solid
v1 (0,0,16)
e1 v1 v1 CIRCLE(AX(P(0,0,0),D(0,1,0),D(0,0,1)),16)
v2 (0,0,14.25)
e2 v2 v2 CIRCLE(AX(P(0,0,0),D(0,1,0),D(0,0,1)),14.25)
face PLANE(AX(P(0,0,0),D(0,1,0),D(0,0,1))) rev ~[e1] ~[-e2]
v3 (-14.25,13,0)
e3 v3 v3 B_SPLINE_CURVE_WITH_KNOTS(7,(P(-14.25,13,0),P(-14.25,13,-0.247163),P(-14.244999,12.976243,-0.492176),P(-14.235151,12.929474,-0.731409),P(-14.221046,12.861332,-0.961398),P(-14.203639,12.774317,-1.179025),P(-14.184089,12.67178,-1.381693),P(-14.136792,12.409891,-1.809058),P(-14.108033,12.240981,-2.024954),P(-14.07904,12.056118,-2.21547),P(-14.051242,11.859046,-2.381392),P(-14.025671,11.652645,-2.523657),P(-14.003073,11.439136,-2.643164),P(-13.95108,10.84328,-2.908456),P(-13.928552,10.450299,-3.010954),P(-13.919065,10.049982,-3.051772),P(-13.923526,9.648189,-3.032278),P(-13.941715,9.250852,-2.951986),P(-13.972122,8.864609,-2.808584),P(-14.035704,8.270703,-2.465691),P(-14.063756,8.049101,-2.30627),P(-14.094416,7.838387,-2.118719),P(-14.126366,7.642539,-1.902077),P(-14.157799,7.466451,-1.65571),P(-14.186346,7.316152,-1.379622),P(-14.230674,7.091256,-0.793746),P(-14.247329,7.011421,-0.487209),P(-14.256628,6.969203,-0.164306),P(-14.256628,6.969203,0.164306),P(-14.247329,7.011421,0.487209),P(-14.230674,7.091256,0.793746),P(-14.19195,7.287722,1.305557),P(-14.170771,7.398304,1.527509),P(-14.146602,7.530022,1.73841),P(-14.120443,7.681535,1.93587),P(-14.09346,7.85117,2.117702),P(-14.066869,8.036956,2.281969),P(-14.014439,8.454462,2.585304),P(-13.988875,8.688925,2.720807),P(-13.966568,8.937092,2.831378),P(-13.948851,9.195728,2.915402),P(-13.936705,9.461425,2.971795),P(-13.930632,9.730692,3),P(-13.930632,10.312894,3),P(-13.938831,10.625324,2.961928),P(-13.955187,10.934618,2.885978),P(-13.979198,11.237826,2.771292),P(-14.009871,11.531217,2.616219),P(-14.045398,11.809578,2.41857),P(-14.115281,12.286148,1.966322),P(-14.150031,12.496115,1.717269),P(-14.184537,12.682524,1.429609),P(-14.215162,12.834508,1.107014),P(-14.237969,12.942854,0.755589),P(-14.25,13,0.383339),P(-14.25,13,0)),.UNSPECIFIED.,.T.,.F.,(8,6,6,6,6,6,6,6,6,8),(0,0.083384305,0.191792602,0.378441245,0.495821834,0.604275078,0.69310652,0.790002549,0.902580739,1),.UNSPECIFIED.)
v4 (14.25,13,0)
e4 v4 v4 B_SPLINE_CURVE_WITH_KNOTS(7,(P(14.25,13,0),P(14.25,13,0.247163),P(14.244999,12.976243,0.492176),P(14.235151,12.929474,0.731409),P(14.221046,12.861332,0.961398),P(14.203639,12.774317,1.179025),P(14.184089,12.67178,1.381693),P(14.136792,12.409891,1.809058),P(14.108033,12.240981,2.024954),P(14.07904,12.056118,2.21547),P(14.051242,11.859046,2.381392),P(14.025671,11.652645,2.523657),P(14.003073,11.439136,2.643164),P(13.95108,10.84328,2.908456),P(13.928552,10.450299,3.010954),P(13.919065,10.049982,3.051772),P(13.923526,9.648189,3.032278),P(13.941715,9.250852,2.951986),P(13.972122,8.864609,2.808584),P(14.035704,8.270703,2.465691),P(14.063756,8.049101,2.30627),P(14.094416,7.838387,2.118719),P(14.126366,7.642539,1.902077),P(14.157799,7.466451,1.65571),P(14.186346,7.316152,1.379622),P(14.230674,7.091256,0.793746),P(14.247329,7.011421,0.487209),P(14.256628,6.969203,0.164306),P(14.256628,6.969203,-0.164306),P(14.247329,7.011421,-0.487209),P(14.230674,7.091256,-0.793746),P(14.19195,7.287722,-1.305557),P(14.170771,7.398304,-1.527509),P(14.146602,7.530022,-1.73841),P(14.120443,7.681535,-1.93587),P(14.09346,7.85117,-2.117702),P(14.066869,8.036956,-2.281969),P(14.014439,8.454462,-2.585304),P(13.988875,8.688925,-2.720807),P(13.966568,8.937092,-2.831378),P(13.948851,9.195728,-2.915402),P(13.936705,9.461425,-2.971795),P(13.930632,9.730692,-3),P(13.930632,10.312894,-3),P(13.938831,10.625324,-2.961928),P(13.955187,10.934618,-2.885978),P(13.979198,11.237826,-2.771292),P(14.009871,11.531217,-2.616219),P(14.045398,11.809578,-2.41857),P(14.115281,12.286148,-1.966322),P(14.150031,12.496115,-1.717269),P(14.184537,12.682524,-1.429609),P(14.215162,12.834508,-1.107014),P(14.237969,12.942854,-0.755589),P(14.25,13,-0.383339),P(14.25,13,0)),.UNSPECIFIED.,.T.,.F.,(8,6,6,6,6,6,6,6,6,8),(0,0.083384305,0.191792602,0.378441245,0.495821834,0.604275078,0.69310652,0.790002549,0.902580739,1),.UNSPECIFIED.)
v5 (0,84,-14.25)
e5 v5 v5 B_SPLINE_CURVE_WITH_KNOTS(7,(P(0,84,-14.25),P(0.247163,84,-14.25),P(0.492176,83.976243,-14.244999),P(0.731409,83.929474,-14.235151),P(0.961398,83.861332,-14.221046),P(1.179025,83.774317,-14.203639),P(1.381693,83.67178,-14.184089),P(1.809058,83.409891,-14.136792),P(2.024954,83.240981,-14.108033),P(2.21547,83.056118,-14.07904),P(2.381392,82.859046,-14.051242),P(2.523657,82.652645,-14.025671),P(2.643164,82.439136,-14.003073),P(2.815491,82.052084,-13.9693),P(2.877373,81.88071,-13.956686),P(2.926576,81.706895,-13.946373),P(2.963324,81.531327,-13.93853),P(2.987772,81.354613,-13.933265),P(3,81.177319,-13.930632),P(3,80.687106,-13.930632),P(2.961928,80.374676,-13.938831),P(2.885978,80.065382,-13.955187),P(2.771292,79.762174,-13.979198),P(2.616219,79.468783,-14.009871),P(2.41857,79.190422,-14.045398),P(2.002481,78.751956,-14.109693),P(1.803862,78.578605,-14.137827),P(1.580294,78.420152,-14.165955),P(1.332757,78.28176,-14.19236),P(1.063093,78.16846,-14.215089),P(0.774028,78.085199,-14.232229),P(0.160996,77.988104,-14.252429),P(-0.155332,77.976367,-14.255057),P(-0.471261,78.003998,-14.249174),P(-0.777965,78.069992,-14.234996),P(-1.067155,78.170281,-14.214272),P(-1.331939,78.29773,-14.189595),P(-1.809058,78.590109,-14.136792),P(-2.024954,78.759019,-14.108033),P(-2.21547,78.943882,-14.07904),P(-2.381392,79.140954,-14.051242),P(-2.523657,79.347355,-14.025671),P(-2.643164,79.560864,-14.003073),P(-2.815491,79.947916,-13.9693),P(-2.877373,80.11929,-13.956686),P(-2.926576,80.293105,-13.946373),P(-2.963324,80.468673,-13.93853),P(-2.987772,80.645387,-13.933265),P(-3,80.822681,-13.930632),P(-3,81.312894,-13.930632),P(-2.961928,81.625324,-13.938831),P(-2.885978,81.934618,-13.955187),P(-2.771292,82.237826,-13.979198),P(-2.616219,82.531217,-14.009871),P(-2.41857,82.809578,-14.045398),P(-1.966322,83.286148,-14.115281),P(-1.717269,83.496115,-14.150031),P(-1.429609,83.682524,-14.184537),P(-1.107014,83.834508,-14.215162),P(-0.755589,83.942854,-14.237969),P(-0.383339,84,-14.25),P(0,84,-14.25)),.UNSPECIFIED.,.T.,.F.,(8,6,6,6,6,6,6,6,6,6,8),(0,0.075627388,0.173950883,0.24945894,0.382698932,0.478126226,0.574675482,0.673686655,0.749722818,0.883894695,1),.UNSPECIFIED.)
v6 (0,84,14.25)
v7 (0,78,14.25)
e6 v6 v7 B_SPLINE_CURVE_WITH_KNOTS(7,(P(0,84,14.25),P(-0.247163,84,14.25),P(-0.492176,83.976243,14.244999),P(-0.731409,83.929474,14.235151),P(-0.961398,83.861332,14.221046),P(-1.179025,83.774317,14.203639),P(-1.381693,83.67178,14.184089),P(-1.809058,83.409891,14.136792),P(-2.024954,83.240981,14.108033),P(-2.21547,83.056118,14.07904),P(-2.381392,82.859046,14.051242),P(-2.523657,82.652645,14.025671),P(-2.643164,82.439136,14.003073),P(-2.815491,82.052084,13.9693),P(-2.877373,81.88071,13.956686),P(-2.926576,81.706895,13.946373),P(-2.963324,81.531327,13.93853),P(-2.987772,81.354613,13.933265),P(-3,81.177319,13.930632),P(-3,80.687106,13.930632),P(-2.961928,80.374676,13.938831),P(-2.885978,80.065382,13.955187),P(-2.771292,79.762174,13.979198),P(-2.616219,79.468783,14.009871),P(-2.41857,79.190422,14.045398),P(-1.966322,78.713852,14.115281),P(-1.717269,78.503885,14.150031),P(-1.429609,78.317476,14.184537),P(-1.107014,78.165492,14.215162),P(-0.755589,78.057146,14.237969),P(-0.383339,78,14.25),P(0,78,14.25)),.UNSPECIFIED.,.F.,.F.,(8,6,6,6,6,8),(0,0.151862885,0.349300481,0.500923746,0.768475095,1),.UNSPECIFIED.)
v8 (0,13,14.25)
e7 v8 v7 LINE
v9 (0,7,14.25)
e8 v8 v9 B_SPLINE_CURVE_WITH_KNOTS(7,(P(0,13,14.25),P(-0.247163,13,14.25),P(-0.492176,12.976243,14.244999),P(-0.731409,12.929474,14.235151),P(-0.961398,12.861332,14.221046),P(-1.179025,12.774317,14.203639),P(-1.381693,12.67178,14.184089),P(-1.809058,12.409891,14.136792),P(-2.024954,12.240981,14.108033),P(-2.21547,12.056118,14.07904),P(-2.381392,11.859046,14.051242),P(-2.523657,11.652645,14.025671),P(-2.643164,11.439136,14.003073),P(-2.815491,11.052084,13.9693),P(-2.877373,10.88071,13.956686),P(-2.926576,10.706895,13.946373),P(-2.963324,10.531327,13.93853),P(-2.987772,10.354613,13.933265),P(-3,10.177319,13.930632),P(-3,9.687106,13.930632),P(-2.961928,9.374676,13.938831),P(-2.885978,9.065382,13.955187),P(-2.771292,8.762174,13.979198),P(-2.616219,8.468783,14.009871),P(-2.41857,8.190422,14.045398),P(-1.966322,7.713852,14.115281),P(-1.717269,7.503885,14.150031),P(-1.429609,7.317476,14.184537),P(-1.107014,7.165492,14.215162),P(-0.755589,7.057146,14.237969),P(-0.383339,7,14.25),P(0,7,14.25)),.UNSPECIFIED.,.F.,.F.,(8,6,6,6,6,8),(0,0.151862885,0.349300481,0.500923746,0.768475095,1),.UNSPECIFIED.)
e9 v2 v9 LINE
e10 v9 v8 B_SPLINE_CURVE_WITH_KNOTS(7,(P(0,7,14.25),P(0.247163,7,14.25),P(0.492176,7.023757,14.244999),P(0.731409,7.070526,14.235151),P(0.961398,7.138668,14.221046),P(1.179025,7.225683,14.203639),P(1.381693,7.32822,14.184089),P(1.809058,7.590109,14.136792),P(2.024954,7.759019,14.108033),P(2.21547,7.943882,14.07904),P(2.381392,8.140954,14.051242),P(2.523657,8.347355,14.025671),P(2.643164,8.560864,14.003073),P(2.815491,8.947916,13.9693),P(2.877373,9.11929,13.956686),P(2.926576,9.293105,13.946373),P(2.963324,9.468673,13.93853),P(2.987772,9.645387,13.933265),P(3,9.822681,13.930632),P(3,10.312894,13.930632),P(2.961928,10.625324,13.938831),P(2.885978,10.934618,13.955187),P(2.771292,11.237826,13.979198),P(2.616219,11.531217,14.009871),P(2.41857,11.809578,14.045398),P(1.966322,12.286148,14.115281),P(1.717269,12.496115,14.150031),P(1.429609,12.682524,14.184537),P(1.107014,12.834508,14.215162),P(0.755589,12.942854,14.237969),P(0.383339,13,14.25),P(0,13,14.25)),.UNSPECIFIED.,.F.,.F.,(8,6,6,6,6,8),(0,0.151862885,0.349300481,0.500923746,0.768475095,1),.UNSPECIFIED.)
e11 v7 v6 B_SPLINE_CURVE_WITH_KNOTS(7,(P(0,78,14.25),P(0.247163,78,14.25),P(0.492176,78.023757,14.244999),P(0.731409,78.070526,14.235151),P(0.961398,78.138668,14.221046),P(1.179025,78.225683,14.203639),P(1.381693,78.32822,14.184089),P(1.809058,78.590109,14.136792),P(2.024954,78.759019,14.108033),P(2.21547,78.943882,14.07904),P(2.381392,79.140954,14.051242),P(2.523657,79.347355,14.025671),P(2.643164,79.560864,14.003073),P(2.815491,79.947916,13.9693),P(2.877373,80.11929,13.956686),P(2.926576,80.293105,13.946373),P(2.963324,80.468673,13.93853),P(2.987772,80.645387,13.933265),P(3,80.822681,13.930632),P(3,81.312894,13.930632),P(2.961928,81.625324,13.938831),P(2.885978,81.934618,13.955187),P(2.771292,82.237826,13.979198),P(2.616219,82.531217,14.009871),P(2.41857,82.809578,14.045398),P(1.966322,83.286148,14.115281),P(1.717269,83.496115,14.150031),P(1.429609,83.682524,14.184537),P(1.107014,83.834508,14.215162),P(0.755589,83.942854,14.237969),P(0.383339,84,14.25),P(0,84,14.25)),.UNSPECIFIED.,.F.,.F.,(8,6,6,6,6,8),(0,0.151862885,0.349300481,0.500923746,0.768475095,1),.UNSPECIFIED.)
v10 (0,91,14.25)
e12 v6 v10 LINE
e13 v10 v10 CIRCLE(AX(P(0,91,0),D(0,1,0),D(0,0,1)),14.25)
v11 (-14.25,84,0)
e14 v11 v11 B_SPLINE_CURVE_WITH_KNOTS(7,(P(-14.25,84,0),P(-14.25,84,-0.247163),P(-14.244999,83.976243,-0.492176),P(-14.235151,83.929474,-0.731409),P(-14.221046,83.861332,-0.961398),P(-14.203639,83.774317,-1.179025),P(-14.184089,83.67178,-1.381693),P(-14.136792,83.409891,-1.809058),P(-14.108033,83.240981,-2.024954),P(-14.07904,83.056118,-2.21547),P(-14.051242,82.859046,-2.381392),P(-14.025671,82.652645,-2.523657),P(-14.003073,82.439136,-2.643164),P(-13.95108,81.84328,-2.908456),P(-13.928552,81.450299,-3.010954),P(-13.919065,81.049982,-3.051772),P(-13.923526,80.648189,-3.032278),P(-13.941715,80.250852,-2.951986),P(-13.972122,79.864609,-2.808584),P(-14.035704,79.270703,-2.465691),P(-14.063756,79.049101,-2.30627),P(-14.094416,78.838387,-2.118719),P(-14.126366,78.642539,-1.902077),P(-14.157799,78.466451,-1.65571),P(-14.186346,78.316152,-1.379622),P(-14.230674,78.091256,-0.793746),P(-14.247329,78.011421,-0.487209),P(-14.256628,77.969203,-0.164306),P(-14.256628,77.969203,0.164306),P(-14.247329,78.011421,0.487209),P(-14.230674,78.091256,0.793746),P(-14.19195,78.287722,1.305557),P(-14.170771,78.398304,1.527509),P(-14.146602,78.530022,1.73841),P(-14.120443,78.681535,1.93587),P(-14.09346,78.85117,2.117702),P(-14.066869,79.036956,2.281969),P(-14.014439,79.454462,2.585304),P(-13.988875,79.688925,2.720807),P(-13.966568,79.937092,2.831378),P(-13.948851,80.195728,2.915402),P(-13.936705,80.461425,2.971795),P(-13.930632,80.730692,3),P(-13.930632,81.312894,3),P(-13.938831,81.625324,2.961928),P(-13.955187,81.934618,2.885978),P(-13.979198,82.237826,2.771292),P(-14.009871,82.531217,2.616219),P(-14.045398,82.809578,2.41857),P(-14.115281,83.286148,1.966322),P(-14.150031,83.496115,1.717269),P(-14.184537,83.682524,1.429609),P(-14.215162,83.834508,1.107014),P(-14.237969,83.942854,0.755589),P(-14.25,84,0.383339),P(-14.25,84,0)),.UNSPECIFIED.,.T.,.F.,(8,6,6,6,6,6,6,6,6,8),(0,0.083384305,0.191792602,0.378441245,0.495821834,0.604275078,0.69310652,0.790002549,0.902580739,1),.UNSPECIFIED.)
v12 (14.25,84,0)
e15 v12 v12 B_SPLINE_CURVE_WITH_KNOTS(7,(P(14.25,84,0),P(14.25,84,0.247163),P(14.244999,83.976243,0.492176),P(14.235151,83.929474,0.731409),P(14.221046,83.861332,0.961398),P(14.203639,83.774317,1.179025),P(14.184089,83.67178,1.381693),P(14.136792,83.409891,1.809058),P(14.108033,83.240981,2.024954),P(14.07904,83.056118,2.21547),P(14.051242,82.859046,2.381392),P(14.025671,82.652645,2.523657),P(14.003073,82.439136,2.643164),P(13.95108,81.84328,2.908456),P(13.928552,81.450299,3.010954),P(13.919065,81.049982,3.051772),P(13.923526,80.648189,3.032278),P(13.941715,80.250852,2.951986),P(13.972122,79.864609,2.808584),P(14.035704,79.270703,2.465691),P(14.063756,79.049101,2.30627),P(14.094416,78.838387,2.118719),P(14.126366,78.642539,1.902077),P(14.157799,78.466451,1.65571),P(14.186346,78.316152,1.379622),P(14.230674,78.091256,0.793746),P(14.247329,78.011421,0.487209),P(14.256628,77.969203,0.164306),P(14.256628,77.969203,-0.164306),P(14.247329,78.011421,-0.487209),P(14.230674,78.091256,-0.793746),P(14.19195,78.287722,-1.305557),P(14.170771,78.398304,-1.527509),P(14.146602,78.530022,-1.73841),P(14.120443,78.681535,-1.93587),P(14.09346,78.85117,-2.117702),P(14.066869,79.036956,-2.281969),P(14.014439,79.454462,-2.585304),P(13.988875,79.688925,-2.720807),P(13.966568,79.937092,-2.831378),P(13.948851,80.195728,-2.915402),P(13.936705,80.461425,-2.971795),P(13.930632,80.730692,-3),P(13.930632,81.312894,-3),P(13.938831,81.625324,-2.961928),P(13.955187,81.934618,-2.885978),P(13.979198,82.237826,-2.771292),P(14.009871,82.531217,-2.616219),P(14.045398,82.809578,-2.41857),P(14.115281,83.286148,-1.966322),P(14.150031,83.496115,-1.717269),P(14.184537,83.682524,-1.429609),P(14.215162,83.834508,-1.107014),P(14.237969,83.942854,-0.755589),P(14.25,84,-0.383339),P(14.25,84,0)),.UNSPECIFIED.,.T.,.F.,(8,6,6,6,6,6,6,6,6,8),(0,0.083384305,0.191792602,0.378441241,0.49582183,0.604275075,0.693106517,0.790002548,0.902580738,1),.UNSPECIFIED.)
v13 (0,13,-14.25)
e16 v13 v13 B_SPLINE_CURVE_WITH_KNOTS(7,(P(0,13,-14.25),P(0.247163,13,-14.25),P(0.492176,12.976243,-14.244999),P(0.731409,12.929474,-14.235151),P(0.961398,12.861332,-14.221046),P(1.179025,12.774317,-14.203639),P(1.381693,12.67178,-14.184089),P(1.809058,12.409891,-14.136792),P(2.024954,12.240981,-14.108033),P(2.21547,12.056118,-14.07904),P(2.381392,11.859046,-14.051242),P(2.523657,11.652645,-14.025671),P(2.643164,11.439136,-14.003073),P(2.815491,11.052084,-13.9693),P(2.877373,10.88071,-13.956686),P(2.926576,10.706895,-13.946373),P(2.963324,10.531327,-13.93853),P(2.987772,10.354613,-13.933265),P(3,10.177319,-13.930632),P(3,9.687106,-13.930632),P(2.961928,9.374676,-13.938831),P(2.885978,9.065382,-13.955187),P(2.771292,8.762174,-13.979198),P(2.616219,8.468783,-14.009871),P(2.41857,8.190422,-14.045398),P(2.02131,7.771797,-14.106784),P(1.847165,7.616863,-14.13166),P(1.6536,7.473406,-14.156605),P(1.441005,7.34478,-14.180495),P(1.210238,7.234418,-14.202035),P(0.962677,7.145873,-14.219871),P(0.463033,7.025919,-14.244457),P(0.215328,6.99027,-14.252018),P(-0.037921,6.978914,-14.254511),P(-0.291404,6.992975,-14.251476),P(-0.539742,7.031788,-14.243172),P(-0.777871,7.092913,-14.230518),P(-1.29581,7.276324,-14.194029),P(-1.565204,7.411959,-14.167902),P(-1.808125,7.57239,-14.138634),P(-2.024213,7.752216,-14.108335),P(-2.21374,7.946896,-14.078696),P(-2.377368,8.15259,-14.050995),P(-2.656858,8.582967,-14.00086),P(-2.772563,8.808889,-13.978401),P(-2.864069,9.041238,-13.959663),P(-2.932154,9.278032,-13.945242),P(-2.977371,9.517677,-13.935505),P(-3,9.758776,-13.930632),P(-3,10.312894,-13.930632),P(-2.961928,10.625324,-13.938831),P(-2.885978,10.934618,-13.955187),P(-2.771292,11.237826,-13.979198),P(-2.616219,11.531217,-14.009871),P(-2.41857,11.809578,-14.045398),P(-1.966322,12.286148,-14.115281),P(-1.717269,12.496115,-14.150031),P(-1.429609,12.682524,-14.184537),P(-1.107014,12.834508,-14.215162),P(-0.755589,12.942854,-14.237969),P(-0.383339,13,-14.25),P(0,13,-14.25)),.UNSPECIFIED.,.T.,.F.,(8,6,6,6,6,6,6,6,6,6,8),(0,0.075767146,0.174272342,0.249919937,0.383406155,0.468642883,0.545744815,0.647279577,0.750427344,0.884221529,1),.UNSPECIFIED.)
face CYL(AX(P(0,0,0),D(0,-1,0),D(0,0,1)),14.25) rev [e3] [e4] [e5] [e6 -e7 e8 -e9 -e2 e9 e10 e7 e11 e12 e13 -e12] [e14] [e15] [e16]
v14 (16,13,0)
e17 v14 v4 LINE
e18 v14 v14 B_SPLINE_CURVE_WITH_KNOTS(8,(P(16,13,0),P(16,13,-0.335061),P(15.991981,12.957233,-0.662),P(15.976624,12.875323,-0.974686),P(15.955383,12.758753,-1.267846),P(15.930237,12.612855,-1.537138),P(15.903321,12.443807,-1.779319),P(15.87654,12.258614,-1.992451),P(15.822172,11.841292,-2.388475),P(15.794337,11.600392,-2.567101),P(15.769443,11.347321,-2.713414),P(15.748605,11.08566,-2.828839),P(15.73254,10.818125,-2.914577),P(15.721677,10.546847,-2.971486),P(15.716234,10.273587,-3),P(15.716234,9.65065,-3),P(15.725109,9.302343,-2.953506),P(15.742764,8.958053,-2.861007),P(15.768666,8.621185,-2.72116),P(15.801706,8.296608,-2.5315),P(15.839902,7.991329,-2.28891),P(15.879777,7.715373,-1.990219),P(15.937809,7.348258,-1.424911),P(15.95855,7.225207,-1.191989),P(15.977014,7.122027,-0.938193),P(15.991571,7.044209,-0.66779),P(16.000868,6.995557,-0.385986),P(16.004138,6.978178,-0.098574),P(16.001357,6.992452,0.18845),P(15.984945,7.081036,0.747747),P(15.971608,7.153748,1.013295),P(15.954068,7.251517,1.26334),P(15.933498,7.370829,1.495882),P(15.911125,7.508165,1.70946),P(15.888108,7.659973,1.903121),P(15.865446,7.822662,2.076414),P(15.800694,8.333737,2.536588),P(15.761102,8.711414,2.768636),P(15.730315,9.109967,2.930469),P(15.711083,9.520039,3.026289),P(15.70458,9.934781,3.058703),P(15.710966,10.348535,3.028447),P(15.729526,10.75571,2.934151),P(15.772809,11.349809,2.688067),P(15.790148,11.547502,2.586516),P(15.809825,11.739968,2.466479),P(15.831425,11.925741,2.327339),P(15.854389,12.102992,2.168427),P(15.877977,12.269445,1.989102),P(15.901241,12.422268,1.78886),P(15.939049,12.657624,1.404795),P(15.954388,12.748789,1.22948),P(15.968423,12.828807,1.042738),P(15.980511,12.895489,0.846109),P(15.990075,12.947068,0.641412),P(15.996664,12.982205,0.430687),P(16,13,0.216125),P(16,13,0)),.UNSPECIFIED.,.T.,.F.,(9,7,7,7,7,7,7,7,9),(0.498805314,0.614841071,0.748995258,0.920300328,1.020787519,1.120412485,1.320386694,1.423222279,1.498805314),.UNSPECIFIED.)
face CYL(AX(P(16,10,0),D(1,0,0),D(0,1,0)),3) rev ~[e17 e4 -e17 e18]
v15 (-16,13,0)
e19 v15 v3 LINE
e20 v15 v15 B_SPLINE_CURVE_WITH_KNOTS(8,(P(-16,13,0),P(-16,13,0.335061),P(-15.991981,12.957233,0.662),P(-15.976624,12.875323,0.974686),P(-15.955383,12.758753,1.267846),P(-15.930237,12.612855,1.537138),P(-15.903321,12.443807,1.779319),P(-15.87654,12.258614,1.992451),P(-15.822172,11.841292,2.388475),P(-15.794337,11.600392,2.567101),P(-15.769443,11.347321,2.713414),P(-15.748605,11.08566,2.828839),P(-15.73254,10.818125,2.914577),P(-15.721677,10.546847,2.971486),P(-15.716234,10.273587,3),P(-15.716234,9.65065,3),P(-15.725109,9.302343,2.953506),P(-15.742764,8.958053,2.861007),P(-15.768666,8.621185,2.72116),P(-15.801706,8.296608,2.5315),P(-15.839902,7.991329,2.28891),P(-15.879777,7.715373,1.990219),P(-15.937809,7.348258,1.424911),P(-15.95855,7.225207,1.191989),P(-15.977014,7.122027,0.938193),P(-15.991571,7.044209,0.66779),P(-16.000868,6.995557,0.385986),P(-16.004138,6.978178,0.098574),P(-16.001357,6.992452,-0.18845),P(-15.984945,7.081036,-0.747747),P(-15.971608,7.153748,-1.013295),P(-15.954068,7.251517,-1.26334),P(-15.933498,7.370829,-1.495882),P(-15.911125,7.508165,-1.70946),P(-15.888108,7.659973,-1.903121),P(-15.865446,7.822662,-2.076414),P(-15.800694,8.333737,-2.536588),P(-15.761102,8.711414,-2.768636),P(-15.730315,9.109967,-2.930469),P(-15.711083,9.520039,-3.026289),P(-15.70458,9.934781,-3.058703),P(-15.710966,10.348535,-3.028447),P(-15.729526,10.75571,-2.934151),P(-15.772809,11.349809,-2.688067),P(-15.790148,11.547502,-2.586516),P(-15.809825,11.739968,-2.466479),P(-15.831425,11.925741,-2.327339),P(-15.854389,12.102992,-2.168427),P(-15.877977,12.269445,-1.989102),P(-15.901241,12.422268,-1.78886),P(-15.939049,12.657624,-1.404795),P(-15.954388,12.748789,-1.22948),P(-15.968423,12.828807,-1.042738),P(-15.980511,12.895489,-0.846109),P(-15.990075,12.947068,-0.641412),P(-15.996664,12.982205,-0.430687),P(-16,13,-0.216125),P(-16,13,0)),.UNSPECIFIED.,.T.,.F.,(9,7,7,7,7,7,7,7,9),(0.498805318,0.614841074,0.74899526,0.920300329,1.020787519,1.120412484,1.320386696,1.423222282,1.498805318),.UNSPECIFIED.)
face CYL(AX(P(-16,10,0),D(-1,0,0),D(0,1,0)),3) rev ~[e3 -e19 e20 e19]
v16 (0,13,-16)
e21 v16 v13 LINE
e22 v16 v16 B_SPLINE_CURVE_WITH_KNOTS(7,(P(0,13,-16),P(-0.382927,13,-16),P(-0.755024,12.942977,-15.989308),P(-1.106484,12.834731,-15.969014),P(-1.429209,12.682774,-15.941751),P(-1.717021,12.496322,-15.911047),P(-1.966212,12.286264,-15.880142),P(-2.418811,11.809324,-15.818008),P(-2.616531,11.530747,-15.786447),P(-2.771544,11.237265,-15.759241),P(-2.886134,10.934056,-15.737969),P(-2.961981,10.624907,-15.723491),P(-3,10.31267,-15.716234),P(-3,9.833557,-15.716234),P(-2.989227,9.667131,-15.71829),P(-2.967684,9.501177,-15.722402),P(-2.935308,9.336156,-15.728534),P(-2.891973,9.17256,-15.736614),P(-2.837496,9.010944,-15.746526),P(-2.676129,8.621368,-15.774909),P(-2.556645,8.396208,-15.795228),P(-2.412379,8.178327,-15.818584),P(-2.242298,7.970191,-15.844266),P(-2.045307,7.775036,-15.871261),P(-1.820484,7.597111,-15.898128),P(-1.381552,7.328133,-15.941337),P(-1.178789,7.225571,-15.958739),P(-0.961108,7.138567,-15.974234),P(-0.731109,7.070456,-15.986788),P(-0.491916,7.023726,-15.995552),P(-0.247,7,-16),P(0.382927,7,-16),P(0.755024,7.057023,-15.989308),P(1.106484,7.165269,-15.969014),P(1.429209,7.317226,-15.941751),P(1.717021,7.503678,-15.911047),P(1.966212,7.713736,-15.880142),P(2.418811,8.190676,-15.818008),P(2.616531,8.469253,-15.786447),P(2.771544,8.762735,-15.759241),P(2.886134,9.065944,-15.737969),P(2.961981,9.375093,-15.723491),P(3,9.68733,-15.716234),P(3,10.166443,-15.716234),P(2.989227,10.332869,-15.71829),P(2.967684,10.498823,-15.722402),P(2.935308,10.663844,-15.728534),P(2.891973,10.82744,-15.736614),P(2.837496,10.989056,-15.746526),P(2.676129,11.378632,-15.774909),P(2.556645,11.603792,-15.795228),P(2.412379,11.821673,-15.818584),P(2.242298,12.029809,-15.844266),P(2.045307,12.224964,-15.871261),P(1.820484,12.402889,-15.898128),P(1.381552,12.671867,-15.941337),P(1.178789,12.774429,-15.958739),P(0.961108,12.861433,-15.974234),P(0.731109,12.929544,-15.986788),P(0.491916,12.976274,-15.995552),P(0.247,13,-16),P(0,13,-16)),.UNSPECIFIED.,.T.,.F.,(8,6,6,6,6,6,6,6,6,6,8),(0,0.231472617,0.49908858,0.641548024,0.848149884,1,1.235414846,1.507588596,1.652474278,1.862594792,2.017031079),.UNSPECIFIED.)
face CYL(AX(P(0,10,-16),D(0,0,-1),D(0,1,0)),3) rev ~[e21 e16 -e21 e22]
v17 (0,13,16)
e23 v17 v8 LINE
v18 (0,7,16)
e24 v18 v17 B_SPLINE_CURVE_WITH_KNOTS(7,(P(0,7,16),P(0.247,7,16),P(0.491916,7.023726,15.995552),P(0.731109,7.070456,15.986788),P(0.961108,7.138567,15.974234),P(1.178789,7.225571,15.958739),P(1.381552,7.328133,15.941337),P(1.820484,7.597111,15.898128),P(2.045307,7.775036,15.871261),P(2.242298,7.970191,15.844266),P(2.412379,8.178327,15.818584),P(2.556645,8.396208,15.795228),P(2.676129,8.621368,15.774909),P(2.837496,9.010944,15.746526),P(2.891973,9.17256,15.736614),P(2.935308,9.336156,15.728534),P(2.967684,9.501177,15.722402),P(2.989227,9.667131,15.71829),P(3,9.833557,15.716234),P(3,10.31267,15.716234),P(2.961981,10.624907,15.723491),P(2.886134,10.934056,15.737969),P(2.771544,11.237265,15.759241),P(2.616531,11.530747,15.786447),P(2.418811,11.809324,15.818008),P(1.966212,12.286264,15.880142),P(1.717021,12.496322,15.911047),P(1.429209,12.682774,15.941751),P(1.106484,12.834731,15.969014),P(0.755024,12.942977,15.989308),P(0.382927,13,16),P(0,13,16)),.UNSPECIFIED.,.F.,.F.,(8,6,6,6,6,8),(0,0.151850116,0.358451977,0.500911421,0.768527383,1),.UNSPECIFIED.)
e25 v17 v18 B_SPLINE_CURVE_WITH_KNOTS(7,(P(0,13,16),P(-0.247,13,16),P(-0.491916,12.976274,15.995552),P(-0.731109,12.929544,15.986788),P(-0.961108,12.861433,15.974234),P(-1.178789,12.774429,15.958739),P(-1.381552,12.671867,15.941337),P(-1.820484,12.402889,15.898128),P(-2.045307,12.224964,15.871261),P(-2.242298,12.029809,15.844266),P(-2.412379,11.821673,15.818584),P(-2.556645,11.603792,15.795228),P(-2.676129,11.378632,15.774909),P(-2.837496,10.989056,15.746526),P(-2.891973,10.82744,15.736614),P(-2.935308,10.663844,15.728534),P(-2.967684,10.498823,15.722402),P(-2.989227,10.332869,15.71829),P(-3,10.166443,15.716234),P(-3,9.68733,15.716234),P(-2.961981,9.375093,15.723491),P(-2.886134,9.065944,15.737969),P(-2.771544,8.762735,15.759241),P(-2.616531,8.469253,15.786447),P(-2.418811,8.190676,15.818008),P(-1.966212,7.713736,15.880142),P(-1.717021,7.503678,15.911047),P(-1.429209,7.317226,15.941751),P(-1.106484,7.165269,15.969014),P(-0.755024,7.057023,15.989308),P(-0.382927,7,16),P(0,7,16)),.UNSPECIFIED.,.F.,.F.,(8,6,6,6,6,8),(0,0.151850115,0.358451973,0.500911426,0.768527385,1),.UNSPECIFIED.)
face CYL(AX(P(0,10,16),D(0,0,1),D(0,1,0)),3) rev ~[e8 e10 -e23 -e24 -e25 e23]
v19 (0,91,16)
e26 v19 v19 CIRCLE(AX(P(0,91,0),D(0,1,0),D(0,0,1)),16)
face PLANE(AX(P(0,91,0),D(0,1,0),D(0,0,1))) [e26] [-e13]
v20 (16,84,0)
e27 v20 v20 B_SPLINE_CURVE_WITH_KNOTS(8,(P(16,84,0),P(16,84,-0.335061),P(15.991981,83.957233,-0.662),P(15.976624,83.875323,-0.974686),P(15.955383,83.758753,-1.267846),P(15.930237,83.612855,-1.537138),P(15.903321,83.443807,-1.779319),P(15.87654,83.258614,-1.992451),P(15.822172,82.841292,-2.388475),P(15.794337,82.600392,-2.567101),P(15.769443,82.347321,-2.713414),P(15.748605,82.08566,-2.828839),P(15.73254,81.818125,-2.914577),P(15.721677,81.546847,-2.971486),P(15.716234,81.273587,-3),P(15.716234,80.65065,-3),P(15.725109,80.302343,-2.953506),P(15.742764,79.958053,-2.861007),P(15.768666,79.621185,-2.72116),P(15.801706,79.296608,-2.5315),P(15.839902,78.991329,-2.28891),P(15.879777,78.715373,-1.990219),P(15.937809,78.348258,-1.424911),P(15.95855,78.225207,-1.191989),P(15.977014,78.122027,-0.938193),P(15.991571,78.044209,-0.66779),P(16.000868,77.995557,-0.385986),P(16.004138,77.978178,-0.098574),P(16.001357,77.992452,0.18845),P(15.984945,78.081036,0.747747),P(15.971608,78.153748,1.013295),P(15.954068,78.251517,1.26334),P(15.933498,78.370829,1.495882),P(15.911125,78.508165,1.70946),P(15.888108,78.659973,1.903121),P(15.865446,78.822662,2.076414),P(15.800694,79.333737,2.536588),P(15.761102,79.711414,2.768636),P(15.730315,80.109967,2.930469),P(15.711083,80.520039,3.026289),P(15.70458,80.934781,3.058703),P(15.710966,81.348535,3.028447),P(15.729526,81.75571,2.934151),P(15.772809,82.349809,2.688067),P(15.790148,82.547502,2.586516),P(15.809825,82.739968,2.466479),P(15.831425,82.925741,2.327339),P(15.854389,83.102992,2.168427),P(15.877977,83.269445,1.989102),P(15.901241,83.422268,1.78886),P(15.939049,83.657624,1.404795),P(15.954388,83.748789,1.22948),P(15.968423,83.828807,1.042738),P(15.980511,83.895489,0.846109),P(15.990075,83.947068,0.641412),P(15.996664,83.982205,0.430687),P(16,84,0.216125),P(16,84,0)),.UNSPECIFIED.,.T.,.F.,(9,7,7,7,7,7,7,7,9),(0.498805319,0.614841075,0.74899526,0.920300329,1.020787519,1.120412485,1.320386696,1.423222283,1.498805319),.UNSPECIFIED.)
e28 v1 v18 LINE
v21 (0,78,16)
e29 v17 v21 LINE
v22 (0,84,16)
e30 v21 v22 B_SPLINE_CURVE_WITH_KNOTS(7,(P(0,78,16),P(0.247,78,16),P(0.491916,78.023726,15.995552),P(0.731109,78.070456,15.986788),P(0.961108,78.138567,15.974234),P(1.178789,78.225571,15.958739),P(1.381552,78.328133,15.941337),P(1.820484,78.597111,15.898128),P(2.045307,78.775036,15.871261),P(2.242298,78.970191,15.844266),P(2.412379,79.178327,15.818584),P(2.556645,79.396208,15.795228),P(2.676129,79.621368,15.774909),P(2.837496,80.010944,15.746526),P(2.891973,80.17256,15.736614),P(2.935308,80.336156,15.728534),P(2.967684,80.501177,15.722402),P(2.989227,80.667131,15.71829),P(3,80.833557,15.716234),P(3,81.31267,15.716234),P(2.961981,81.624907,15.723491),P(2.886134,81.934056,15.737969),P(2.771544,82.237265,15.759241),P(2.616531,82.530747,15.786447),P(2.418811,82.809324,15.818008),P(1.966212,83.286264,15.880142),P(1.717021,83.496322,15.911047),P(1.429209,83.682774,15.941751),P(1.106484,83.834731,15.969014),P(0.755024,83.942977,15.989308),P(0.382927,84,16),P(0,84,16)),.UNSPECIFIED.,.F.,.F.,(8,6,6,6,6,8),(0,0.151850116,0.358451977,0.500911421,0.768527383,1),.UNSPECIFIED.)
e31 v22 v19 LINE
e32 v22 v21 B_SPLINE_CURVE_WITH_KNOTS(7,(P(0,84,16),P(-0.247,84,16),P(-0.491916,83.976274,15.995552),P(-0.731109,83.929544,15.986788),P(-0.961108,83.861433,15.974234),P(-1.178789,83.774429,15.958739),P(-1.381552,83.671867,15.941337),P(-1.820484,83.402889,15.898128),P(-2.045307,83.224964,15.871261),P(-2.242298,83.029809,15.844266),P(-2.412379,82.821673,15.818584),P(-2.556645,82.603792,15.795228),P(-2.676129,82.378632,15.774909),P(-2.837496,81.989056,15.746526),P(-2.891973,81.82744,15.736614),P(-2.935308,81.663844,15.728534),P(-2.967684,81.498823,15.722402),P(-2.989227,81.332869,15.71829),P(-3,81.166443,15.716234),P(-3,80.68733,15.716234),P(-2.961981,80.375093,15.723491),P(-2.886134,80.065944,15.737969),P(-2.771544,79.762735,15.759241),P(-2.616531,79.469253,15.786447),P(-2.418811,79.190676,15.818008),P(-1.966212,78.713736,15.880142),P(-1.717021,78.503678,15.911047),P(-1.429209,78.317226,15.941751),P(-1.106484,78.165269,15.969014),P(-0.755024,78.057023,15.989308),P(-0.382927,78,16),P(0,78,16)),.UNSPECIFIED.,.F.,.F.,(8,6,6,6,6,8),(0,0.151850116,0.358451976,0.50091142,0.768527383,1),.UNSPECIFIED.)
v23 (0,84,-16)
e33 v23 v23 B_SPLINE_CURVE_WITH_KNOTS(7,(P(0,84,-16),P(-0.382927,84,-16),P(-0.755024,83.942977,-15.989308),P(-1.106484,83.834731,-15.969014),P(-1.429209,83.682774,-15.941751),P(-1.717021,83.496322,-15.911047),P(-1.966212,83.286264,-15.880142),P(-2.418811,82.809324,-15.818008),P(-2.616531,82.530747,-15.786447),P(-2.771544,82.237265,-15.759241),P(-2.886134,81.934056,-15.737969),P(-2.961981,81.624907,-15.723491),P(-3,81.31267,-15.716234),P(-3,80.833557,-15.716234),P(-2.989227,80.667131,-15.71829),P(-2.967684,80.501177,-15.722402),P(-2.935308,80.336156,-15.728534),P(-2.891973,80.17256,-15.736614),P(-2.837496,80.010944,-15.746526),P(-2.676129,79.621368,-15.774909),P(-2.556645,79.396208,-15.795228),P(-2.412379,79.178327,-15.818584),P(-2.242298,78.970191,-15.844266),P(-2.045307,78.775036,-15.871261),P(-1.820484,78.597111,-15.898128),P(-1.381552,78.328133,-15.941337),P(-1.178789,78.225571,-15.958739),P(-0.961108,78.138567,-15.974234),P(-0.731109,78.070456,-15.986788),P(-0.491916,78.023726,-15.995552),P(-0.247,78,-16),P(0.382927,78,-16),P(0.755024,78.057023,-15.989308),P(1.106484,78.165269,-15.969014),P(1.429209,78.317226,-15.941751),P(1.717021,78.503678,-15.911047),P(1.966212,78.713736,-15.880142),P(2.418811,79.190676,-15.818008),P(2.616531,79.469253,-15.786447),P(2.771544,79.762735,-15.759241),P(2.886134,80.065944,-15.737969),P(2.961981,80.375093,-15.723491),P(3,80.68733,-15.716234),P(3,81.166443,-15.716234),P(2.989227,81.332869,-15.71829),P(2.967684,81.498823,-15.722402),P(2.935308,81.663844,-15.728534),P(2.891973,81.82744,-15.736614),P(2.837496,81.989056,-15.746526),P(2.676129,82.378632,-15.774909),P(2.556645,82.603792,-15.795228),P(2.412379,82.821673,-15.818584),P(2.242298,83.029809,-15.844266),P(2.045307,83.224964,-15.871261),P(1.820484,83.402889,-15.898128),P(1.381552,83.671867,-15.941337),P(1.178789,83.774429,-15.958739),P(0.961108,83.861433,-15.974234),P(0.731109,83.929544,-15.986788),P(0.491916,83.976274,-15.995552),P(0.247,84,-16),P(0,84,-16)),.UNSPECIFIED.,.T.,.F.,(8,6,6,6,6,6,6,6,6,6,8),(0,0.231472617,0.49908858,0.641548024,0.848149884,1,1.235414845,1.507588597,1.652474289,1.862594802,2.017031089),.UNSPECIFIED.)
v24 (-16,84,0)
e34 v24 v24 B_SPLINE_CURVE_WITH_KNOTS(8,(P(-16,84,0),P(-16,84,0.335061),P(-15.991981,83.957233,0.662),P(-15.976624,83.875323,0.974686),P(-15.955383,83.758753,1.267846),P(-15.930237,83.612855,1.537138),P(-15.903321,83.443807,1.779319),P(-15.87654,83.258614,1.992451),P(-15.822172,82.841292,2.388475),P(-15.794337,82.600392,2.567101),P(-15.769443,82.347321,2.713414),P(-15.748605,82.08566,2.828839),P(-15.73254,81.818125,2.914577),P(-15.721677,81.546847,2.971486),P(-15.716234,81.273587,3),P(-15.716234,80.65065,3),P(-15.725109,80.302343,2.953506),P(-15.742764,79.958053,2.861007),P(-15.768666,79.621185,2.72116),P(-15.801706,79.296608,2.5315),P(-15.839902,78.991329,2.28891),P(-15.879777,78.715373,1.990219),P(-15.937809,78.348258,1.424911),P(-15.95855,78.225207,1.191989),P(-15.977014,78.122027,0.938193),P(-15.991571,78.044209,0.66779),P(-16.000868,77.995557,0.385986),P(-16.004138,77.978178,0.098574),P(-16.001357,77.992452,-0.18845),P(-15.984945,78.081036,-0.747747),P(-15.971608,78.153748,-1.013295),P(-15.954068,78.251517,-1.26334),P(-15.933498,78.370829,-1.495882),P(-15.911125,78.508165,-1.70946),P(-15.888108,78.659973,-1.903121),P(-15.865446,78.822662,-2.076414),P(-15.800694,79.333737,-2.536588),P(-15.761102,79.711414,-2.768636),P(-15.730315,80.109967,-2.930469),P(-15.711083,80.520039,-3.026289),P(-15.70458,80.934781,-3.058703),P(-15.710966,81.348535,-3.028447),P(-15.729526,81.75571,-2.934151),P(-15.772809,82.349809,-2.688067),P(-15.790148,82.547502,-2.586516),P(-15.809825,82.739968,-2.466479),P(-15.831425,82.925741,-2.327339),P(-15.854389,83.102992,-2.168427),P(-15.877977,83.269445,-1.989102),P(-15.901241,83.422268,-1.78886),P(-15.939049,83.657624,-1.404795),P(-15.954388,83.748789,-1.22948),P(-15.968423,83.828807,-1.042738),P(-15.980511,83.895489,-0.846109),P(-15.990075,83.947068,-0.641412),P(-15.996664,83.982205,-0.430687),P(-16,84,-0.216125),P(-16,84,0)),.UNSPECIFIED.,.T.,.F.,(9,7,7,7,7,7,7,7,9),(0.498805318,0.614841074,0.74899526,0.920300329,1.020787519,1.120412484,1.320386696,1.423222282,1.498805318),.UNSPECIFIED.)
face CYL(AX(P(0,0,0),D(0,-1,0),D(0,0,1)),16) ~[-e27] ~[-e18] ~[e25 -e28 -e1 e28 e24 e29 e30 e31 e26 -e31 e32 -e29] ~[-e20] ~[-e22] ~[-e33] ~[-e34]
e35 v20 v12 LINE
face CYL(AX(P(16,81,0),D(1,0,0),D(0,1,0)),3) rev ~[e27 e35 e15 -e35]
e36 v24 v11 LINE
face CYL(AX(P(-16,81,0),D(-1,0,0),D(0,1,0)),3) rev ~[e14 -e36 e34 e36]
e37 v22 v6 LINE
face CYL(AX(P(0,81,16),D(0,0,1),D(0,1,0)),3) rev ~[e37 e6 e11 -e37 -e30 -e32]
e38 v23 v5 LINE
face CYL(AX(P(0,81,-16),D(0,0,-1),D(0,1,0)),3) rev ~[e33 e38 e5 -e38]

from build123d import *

# Parameters (mm, degrees)
SKETCH1_R           = 16
SKETCH1_R_2         = 14.25
BOSS_EXTRUDE1_DEPTH = 91
SKETCH2_R           = 3
CUT_EXTRUDE1_DEPTH  = 10
CIRPATTERN1_COUNT   = 4


with BuildPart() as part:
    # Sketch1 → Boss-Extrude1 (new body)
    with BuildSketch(Plane(origin=(0, 0, 0), x_dir=(1, 0, 0), z_dir=(0, 1, 0))):
        with Locations(Location((0, 0, 0), (0, 0, 270))):
            Circle(SKETCH1_R)
        with Locations(Location((0, 0, 0), (0, 0, 270))):
            Circle(SKETCH1_R_2, mode=Mode.SUBTRACT)
    extrude(amount=BOSS_EXTRUDE1_DEPTH)

    # Sketch2 → Cut-Extrude1 (cut)
    with BuildSketch(Plane(origin=(0, 0, -16), x_dir=(-1, 0, 0), z_dir=(0, 0, -1))):
        with Locations(Location((0, 10, 0), (0, 0, 90))):
            Circle(SKETCH2_R)
        with Locations(Location((0, 81, 0), (0, 0, 90))):
            Circle(SKETCH2_R)
    cut_extrude1 = extrude(amount=-CUT_EXTRUDE1_DEPTH, mode=Mode.SUBTRACT)

    # CirPattern1: Cut-Extrude1 ×4 about axis
    cirpattern1_axis = Axis((0, 91, 0), (0, -1, 0))
    for i in range(1, CIRPATTERN1_COUNT):
        add(cut_extrude1.rotate(cirpattern1_axis, i * 360 / CIRPATTERN1_COUNT), mode=Mode.SUBTRACT)


solid = part.part
